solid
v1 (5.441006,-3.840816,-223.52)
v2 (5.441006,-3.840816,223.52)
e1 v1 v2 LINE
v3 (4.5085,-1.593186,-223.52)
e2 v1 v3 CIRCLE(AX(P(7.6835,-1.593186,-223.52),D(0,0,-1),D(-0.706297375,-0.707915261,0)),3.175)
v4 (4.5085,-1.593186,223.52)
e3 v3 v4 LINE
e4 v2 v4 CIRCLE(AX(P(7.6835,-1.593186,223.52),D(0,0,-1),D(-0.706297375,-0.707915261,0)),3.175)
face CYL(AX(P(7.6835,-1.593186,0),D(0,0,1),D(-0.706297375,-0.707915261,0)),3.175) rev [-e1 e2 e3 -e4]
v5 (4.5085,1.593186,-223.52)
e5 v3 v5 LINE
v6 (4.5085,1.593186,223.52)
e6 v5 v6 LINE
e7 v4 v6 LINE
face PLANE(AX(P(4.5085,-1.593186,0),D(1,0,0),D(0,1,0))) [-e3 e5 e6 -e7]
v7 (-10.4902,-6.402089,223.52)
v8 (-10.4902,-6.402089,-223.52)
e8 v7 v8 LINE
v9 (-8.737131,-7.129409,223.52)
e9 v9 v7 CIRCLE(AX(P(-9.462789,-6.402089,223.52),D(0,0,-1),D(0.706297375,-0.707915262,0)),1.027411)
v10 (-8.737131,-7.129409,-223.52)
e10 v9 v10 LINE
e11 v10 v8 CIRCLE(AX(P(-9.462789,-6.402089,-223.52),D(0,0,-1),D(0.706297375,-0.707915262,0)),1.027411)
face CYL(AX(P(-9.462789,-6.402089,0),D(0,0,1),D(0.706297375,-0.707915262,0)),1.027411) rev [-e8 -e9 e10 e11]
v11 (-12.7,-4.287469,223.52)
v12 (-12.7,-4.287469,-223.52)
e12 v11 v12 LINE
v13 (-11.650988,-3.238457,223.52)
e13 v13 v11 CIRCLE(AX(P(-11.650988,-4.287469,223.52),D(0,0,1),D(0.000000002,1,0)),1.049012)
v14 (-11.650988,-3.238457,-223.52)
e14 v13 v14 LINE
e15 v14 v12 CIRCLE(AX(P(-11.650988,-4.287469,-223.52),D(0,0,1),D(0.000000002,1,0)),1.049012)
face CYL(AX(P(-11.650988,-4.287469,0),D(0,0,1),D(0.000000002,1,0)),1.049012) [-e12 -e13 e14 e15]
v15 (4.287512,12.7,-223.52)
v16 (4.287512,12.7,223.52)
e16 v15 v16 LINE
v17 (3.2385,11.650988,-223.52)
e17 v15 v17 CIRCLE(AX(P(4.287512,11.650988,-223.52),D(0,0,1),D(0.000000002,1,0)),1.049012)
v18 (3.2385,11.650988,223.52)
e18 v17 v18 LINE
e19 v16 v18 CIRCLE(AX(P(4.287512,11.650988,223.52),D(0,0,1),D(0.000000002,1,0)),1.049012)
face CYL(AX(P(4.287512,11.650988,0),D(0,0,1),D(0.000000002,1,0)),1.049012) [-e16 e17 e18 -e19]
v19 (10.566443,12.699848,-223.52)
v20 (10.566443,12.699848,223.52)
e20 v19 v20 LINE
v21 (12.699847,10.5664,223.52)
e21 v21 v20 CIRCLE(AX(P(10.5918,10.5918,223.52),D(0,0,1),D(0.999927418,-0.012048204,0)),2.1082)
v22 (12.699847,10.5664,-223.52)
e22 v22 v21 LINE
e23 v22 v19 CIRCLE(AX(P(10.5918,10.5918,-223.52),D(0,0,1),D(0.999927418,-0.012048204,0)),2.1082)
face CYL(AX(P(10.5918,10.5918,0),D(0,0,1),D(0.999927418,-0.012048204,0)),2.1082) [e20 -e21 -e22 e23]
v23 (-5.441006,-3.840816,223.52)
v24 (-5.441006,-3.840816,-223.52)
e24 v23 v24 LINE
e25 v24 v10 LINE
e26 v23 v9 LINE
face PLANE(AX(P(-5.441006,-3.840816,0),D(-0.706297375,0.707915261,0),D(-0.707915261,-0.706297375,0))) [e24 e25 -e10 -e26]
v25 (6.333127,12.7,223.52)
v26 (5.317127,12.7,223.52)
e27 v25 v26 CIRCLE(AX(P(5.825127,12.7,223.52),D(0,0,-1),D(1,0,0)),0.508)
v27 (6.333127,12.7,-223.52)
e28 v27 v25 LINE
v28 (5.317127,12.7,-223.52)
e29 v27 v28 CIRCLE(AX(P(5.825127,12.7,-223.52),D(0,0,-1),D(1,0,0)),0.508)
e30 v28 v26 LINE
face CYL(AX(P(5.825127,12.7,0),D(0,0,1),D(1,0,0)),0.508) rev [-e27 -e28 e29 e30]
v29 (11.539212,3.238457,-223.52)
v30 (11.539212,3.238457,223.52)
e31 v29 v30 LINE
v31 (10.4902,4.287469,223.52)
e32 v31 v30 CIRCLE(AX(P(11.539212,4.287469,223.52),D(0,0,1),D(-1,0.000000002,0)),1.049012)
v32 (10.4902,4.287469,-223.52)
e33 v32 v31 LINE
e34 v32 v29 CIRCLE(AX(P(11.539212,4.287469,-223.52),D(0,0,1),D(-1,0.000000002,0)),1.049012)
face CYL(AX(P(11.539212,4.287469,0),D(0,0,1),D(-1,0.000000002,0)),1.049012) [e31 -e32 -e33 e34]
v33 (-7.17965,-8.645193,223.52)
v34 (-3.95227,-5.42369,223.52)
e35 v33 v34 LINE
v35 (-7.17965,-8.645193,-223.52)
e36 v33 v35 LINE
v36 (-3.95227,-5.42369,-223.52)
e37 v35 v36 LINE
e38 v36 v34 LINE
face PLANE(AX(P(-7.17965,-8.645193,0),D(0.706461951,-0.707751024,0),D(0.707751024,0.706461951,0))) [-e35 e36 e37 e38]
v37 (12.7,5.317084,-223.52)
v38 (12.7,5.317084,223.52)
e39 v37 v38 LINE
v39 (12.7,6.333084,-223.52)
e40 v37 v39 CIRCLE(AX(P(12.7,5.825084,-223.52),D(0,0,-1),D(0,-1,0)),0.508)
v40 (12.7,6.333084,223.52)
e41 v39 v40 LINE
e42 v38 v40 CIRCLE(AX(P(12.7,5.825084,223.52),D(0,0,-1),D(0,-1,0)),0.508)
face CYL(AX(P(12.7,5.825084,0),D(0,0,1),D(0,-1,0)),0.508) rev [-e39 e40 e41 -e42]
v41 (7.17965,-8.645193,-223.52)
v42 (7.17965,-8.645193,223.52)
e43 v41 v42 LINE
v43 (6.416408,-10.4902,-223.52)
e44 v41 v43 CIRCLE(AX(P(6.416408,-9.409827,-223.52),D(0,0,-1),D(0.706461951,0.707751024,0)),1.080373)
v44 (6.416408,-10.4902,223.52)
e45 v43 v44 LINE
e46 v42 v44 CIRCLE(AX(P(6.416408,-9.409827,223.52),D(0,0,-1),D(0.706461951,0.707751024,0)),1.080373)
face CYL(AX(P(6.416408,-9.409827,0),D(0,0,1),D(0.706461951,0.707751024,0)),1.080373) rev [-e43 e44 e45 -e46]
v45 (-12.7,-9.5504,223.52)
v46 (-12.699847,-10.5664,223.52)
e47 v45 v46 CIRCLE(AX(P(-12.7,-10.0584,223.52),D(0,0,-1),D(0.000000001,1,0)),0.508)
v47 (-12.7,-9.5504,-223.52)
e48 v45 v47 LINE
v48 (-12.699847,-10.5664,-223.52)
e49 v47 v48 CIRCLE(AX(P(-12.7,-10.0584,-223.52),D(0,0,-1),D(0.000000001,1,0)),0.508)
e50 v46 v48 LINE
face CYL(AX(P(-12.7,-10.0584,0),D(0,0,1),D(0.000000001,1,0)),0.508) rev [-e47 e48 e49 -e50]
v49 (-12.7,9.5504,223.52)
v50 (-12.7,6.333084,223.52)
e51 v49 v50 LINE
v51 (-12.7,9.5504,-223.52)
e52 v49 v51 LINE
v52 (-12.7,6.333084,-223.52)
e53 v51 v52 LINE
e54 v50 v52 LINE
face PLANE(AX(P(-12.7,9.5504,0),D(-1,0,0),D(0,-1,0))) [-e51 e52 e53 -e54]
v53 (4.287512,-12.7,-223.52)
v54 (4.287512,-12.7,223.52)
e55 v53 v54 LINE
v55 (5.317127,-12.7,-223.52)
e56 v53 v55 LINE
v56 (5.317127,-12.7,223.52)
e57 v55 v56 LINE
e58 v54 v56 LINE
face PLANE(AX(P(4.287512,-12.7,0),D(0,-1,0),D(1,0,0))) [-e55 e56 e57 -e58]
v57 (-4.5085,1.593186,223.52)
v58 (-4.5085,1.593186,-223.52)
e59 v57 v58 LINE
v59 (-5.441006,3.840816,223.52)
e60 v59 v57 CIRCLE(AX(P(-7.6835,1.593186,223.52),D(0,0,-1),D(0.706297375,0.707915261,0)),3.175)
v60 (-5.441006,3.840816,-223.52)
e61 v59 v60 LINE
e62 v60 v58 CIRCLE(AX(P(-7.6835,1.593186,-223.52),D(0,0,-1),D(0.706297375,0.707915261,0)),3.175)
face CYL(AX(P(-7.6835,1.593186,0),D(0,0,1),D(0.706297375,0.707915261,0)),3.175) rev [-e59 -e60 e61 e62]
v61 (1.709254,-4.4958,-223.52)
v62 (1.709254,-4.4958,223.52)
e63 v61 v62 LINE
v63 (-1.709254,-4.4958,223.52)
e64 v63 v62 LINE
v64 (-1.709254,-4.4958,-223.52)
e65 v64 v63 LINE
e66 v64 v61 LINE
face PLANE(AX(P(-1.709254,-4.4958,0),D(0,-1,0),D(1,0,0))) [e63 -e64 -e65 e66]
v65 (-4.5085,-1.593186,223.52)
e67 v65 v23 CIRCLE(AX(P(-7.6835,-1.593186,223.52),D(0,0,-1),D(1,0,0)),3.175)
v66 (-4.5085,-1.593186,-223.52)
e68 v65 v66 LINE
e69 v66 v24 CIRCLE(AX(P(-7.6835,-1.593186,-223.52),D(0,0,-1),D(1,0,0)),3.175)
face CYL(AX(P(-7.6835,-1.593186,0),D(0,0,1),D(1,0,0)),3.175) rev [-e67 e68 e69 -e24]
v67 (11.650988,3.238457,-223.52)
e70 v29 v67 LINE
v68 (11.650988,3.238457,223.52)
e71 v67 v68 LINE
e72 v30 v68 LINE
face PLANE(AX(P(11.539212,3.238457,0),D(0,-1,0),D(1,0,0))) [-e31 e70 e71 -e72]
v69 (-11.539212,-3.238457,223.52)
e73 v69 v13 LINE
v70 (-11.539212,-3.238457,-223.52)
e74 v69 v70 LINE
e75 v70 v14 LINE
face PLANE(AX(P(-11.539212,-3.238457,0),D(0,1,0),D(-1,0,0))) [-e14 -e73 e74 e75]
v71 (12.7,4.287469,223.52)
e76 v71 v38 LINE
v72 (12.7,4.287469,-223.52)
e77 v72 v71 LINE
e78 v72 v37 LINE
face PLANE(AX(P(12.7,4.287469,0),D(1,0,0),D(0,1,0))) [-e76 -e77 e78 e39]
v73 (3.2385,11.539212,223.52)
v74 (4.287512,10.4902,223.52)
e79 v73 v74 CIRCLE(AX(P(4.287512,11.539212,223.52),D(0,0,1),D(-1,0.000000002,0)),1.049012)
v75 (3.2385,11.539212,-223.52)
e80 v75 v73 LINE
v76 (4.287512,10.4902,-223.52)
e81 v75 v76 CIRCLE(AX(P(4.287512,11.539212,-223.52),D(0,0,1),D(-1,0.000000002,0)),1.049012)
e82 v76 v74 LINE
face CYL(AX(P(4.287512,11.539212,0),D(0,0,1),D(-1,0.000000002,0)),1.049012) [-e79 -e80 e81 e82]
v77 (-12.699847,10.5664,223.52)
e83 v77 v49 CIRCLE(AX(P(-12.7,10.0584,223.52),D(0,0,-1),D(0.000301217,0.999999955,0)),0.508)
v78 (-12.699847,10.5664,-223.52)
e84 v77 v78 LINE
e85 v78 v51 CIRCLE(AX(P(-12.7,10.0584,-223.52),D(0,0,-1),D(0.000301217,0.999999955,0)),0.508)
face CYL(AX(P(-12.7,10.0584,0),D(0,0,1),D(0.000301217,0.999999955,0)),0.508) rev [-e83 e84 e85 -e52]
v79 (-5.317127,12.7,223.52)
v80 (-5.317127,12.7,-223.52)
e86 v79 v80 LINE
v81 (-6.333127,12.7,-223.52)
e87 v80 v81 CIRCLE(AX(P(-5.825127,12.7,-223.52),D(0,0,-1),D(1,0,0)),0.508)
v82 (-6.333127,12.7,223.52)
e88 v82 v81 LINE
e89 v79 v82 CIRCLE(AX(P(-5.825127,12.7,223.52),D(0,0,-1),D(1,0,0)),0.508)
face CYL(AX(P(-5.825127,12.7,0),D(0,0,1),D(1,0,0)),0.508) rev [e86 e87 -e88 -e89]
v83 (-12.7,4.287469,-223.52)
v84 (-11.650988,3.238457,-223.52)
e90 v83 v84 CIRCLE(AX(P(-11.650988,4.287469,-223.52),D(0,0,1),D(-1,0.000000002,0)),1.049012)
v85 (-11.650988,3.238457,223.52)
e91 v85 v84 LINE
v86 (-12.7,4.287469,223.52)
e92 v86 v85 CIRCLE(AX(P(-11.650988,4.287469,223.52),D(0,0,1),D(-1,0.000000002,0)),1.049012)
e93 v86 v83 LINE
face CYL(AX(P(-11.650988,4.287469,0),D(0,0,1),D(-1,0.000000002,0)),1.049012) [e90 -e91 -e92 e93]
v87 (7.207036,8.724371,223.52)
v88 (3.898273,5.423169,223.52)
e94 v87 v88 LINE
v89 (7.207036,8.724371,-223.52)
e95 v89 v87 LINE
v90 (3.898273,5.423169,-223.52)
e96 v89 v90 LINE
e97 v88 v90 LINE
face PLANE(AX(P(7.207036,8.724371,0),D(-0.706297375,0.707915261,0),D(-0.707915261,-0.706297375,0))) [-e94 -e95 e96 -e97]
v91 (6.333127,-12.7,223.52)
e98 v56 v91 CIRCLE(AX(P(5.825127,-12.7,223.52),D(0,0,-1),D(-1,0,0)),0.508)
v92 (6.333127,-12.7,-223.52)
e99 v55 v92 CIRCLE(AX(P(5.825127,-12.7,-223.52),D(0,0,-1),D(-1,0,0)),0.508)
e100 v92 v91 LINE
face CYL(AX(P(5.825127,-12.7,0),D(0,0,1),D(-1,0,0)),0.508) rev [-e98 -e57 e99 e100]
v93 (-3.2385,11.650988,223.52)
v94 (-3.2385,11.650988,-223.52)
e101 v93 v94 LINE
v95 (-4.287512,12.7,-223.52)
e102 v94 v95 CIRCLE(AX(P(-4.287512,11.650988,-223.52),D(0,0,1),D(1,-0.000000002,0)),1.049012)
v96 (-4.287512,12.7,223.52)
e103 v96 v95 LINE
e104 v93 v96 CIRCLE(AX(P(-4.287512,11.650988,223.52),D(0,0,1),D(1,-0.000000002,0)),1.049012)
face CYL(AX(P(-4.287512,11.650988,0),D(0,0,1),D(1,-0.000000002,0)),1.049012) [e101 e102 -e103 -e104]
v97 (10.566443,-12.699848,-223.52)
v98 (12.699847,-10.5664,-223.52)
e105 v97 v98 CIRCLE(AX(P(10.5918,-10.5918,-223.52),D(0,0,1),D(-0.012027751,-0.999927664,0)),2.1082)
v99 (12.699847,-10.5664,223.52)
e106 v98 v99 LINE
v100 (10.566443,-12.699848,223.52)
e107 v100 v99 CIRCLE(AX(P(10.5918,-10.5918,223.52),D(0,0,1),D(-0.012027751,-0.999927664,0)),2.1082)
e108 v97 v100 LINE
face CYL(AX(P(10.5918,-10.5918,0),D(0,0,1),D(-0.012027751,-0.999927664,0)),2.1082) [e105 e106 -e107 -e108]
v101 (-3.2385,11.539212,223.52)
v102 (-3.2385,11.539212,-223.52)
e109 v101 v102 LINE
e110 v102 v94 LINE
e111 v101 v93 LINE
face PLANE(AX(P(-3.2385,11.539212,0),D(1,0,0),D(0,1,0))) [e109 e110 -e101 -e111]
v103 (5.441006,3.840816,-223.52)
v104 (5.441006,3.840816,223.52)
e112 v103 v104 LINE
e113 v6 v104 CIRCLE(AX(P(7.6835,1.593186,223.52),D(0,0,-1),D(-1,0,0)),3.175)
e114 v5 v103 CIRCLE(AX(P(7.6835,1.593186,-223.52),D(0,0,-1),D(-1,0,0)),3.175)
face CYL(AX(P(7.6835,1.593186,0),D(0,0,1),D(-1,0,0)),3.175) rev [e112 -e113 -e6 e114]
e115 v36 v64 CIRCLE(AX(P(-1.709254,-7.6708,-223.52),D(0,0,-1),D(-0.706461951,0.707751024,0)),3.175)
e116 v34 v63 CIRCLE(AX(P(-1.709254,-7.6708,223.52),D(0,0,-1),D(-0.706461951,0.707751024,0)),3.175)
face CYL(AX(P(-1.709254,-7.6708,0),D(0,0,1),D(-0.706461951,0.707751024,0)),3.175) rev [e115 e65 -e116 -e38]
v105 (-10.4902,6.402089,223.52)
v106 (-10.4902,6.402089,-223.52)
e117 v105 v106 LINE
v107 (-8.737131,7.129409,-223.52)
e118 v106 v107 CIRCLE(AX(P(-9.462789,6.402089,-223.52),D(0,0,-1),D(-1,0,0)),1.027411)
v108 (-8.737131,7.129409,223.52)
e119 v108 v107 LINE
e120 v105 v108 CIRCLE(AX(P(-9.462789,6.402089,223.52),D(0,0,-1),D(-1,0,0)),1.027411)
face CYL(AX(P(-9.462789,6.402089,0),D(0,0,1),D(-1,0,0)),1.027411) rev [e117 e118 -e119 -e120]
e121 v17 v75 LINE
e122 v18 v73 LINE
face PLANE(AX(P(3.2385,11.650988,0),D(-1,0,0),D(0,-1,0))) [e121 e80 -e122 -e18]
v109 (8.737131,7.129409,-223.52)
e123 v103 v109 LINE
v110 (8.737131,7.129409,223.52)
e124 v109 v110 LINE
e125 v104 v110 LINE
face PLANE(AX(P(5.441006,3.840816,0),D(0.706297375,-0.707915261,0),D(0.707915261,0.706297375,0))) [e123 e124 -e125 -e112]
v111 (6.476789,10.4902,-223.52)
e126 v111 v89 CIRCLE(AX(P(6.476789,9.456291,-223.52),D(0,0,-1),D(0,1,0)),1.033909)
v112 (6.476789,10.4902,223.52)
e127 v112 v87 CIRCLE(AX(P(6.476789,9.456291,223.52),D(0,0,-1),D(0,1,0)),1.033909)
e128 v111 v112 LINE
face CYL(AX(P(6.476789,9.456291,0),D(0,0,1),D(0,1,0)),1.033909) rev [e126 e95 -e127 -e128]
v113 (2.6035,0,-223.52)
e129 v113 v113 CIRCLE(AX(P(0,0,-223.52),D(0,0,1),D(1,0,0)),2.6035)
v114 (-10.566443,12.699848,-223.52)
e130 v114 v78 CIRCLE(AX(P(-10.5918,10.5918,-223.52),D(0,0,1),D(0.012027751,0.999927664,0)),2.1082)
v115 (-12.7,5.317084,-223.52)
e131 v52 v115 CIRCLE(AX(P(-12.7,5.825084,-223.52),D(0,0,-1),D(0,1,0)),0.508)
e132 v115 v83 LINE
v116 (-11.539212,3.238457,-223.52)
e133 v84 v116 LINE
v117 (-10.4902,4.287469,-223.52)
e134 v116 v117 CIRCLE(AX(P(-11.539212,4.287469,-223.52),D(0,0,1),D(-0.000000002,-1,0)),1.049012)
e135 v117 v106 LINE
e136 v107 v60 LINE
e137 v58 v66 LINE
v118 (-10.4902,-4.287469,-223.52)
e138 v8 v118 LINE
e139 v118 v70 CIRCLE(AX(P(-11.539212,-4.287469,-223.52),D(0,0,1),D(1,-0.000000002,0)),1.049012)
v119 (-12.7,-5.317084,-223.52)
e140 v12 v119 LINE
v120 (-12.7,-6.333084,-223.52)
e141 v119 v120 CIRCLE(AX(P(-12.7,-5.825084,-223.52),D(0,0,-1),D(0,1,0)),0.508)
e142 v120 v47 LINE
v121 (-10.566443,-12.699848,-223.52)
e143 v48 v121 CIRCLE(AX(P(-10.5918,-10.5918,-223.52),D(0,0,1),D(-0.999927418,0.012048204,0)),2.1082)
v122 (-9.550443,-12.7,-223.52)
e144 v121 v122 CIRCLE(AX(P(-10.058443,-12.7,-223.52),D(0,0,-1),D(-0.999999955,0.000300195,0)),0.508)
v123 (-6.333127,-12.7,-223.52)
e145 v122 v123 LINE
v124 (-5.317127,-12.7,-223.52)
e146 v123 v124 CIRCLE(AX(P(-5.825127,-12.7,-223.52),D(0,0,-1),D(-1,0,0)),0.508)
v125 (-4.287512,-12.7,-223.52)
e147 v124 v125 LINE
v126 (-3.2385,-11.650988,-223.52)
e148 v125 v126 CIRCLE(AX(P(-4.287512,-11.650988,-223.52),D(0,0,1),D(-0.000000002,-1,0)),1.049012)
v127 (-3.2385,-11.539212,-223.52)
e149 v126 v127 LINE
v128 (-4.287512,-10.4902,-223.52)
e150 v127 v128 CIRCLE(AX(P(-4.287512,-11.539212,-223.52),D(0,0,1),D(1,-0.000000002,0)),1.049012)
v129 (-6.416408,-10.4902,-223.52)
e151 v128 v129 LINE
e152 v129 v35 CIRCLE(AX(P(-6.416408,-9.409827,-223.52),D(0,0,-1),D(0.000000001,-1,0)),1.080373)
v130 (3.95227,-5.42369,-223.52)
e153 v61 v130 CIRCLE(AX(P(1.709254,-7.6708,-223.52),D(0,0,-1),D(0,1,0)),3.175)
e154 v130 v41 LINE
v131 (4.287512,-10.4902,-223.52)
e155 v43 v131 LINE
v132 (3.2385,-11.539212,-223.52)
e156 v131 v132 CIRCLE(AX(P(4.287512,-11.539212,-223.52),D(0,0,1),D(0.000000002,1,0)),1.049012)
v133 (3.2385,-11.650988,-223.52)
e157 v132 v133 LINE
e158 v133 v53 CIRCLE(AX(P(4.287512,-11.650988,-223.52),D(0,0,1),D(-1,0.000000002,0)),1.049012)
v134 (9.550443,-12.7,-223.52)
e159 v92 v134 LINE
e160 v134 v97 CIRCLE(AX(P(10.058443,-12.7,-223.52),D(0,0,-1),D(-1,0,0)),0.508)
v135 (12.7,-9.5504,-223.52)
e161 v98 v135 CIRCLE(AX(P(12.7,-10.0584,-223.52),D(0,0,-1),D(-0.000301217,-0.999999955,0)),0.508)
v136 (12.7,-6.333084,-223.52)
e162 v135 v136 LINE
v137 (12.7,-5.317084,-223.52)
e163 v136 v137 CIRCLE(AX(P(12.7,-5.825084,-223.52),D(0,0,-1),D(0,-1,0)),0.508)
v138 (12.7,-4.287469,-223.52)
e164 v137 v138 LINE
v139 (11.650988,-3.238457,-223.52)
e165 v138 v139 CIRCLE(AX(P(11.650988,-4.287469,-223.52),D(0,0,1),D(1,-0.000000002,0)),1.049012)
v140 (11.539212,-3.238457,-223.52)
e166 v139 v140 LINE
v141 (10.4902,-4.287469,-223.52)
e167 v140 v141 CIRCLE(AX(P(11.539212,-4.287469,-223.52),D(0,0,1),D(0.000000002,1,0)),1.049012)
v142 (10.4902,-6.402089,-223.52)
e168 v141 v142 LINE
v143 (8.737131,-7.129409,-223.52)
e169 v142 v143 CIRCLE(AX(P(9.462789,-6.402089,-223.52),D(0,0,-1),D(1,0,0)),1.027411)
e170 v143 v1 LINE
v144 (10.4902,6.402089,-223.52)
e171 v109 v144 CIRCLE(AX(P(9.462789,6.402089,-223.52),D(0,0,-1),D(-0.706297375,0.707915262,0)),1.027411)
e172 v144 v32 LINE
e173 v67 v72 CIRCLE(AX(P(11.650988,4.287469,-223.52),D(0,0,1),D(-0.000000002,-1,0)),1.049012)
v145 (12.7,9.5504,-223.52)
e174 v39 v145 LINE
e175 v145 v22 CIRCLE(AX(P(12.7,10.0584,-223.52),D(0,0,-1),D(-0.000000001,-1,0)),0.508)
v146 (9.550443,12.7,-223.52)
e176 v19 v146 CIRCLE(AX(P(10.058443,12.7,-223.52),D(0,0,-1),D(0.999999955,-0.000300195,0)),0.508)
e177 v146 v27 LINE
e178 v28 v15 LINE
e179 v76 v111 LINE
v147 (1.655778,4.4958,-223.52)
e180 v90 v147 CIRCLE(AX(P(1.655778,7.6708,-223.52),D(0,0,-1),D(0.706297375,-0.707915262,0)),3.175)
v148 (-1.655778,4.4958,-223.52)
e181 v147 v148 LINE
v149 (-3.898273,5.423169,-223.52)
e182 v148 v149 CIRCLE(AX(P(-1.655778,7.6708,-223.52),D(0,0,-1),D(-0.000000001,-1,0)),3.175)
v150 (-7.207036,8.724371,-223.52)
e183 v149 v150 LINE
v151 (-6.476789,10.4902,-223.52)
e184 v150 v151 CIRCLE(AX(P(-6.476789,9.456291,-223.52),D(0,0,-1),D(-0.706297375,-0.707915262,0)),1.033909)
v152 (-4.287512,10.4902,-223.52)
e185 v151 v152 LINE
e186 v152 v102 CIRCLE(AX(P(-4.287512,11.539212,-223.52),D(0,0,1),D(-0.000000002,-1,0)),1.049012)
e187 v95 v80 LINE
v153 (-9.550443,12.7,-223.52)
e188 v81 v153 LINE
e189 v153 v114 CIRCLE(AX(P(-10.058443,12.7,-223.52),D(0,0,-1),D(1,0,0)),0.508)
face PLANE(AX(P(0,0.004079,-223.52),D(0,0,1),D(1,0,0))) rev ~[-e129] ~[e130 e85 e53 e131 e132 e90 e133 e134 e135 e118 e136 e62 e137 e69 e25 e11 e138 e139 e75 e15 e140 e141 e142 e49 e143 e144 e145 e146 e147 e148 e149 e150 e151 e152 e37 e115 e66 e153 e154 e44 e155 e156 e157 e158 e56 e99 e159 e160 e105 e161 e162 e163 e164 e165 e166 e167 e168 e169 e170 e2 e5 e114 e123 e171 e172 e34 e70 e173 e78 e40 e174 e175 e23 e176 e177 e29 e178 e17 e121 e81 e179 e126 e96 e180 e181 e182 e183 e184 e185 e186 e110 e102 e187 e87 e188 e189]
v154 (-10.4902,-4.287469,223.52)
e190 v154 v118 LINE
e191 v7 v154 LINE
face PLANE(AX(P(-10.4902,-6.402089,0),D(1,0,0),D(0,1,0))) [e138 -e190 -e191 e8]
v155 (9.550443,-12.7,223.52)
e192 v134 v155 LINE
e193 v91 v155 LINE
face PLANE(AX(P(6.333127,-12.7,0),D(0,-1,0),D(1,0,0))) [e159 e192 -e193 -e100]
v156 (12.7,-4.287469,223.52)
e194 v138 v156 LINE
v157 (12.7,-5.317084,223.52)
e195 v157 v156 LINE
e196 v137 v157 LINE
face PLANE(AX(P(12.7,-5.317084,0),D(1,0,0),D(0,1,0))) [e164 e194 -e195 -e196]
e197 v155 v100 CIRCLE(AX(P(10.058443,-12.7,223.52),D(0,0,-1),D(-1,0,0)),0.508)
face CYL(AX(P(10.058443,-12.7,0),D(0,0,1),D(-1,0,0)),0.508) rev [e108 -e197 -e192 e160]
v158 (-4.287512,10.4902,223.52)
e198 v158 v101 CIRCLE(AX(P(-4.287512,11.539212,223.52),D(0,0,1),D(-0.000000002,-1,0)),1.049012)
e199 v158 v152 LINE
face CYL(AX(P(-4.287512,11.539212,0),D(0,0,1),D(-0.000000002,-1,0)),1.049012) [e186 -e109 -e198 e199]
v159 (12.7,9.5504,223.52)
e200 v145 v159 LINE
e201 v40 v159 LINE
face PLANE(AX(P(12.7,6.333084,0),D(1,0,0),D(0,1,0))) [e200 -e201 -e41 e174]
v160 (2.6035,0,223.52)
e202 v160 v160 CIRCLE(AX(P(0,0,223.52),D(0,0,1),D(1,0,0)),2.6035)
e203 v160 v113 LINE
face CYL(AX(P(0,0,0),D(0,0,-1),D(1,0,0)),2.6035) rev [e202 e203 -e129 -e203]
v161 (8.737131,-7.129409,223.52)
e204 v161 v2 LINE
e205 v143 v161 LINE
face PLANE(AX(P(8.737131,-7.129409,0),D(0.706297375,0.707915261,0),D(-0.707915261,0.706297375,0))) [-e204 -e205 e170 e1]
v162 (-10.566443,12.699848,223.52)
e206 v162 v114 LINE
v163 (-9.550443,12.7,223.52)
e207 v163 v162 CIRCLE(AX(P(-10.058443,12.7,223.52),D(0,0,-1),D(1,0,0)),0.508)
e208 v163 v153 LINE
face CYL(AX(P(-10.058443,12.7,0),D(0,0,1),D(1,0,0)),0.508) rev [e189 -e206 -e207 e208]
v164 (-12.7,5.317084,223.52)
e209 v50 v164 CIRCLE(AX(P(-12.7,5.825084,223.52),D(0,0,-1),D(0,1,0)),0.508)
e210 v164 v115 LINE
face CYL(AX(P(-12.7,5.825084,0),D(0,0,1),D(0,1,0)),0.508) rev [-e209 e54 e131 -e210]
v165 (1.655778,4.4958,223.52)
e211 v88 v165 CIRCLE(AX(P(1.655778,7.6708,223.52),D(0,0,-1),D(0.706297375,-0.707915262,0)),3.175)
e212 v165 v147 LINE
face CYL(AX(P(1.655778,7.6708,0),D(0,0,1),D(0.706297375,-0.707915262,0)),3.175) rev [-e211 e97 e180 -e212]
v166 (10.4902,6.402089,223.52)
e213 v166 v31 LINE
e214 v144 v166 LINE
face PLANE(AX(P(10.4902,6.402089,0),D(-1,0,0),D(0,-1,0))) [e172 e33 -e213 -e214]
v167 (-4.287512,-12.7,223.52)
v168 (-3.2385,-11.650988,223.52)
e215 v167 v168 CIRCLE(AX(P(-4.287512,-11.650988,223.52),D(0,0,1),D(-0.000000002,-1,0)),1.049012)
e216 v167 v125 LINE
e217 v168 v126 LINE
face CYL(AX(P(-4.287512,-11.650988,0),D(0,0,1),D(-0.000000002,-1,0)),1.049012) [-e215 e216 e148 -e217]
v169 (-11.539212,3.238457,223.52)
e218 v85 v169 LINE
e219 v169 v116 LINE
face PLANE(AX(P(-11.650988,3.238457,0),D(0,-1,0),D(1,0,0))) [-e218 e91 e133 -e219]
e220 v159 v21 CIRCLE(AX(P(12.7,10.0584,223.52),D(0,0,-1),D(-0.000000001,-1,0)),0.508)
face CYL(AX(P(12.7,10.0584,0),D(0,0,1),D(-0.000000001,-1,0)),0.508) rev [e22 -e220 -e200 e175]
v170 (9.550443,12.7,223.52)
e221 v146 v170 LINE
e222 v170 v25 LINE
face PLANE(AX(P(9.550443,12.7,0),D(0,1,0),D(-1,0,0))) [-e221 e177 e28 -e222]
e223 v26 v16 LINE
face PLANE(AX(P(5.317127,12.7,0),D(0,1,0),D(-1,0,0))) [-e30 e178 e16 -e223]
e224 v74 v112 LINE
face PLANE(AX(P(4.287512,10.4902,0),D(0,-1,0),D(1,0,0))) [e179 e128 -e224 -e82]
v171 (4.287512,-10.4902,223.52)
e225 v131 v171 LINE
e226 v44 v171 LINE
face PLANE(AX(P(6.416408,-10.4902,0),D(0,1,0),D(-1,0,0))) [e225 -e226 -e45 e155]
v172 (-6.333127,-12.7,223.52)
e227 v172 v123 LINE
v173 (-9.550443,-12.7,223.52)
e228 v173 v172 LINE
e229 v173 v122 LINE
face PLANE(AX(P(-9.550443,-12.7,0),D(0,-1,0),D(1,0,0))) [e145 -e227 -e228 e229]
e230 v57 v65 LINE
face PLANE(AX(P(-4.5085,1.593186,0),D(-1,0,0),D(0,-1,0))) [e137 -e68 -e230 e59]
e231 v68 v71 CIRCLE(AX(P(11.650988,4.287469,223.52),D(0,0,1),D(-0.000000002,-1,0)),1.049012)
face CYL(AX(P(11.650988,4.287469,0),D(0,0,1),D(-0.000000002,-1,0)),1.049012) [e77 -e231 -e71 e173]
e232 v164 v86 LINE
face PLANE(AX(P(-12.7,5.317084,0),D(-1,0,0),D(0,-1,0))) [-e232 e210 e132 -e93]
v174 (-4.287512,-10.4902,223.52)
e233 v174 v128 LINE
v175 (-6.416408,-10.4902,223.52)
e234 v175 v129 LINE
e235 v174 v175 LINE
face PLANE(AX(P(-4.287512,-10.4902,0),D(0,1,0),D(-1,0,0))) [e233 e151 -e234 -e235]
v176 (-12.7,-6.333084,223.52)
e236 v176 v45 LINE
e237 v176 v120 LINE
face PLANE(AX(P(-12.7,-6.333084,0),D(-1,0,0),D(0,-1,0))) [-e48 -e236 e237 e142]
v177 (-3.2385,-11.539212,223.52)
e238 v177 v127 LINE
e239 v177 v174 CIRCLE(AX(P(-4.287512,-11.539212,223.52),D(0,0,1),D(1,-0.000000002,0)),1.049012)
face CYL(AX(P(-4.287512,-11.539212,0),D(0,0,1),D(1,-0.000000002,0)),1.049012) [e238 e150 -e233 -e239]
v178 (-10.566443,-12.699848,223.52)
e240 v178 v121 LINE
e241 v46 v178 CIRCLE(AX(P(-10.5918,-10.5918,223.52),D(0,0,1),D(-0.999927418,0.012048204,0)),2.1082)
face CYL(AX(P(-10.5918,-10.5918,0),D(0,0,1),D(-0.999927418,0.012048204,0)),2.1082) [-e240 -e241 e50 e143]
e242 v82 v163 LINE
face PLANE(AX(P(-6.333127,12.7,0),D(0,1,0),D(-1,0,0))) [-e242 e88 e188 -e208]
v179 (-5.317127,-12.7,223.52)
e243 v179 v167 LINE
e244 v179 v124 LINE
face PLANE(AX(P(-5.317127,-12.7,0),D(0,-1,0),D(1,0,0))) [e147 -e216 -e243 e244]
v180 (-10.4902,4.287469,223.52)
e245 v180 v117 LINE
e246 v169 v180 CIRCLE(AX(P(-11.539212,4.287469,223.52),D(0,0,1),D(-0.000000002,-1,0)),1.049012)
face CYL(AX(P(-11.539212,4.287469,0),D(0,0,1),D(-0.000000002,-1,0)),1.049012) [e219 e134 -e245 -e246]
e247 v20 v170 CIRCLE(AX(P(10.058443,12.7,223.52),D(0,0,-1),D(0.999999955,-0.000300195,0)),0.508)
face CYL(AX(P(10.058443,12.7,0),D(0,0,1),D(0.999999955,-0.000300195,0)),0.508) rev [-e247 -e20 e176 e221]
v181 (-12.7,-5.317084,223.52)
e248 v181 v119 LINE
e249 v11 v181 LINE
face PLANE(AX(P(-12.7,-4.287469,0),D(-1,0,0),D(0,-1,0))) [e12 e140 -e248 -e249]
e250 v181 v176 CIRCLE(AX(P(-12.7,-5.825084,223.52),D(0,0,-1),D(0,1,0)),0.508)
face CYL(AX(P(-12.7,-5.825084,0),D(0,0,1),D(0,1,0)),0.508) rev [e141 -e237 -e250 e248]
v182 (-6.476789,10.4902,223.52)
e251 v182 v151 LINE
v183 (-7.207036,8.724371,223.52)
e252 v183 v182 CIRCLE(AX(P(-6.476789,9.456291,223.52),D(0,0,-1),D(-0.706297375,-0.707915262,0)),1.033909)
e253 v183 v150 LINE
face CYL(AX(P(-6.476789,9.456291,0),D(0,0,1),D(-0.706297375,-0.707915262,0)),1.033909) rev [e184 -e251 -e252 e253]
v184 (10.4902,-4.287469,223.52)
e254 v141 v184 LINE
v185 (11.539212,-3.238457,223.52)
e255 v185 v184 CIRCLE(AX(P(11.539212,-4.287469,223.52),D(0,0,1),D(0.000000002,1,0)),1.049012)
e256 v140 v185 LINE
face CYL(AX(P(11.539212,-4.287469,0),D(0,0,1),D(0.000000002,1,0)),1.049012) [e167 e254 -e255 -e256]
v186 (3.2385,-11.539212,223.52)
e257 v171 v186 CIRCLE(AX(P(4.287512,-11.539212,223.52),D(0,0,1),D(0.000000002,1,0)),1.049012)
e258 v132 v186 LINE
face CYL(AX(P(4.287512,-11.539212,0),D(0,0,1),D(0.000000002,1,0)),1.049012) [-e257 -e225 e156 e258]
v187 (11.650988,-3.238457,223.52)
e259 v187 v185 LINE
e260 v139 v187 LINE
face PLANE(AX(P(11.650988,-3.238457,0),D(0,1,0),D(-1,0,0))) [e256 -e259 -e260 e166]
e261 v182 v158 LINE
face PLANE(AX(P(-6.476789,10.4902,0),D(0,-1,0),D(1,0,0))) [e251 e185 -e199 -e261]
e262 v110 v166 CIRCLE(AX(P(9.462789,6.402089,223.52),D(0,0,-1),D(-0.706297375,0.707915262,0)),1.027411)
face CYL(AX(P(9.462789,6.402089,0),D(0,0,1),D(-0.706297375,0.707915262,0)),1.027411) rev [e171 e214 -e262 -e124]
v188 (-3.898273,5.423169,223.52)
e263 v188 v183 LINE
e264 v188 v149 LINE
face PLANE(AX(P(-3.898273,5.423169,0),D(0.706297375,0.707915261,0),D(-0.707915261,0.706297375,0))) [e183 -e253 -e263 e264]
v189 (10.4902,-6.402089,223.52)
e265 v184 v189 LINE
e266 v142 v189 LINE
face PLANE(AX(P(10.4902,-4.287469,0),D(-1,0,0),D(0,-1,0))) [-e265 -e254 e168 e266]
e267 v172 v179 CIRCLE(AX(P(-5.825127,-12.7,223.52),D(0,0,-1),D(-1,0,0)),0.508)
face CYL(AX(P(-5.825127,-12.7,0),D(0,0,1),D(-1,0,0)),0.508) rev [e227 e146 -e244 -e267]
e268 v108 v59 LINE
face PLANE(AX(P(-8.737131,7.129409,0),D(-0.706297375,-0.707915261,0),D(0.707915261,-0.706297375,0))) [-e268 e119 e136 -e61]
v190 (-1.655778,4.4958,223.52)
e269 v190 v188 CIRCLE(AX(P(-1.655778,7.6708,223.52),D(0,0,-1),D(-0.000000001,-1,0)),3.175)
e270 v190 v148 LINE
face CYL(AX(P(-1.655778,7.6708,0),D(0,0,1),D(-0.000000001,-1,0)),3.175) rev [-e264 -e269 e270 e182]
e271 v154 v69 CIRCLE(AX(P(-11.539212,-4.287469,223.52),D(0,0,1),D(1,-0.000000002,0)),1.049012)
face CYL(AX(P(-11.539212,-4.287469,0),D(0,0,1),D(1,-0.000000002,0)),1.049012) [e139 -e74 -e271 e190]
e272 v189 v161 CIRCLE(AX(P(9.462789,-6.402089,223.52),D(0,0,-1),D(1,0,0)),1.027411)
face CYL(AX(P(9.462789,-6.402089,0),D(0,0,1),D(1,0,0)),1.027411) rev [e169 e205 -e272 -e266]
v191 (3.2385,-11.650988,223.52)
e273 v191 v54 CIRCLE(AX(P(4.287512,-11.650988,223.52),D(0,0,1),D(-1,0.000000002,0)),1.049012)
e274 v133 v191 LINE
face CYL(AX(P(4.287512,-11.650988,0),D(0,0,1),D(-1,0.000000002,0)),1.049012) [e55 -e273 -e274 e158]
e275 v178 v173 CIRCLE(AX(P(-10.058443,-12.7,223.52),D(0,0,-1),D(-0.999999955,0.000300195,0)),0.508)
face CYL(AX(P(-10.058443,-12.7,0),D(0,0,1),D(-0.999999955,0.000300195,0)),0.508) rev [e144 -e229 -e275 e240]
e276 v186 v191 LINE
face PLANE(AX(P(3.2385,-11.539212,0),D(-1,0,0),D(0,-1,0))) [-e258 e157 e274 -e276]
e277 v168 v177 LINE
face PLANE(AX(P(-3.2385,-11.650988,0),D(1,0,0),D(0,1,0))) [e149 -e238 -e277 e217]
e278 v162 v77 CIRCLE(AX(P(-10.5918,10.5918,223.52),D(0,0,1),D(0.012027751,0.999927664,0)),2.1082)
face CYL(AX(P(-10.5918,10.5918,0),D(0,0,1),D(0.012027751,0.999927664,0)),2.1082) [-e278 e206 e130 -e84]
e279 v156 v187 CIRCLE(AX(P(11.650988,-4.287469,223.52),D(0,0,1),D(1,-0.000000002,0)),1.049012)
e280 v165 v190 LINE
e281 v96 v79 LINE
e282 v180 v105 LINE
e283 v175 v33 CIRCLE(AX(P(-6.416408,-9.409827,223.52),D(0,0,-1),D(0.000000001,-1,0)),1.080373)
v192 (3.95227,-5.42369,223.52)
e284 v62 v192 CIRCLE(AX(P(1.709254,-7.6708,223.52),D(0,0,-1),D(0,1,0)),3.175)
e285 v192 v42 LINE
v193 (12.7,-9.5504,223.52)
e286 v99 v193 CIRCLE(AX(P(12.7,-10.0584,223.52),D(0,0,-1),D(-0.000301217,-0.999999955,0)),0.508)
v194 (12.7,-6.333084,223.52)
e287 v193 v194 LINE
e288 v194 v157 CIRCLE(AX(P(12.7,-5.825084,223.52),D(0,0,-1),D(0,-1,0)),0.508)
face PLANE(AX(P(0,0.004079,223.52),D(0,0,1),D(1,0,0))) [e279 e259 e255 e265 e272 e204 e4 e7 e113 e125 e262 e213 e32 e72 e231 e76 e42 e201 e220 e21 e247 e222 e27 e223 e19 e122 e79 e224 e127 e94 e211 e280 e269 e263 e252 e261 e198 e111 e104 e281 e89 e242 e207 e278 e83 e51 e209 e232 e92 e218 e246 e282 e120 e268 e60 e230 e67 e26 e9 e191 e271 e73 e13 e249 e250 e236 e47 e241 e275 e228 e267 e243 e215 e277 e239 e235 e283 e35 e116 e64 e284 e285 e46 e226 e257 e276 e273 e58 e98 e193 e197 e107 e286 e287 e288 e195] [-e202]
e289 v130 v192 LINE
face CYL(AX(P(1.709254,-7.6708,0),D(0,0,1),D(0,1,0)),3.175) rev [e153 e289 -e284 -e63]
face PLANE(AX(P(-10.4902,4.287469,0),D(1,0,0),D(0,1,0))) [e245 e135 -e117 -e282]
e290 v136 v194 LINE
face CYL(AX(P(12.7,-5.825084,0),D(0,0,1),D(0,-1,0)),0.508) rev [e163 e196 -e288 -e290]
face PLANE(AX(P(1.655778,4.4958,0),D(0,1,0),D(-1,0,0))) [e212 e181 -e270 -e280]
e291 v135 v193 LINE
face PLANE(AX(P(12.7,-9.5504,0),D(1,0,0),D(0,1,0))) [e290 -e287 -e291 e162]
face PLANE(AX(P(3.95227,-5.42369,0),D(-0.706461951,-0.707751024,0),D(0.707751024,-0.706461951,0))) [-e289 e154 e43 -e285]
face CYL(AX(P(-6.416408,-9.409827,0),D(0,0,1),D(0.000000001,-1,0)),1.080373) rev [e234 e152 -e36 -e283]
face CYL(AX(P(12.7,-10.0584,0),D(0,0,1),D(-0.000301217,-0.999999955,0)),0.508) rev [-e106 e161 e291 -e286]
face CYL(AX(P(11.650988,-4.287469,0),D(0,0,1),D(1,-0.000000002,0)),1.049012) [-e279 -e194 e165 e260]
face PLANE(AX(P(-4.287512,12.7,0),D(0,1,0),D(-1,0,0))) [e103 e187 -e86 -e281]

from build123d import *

# Parameters (mm, degrees)
SKETCH1_R           = 2.6035
BOSS_EXTRUDE1_DEPTH = 223.52


with BuildPart() as part:
    # Sketch1 → Boss-Extrude1 (new, symmetric)
    with BuildSketch(Plane.XY):
        with BuildLine():
            Line((-7.179650497, -8.645192506), (-3.952270251, -5.423690499))
            ThreePointArc((-3.952270251, -5.423690499), (-2.922936451, -4.736929036), (-1.709253557, -4.4958))
            Line((-1.709253557, -4.4958), (1.709253557, -4.4958))
            ThreePointArc((1.709253557, -4.4958), (2.922936451, -4.736929036), (3.952270251, -5.423690499))
            Line((3.952270251, -5.423690499), (7.179650497, -8.645192506))
            ThreePointArc((7.179650497, -8.645192506), (7.41473083, -9.822813117), (6.416408329, -10.4902))
            Line((6.416408329, -10.4902), (4.287512407, -10.4902))
            ThreePointArc((4.287512407, -10.4902), (3.54574862, -10.79744862), (3.2385, -11.539212407))
            Line((3.2385, -11.539212407), (3.2385, -11.650987593))
            ThreePointArc((3.2385, -11.650987593), (3.54574862, -12.39275138), (4.287512407, -12.7))
            Line((4.287512407, -12.7), (5.317126718, -12.7))
            ThreePointArc((5.317126718, -12.7), (5.825126718, -12.192), (6.333126718, -12.7))
            Line((6.333126718, -12.7), (9.550443118, -12.7))
            ThreePointArc((9.550443118, -12.7), (10.058366869, -12.192000006), (10.566443095, -12.699847501))
            ThreePointArc((10.566443095, -12.699847501), (12.082537762, -12.08250727), (12.699846982, -10.566399977))
            ThreePointArc((12.699846982, -10.566399977), (12.192000006, -10.058323491), (12.7, -9.5504))
            Line((12.7, -9.5504), (12.7, -6.3330836))
            ThreePointArc((12.7, -6.3330836), (12.192, -5.8250836), (12.7, -5.3170836))
            Line((12.7, -5.3170836), (12.7, -4.287469289))
            ThreePointArc((12.7, -4.287469289), (12.39275138, -3.545705502), (11.650987593, -3.238456882))
            Line((11.650987593, -3.238456882), (11.539212407, -3.238456882))
            ThreePointArc((11.539212407, -3.238456882), (10.79744862, -3.545705502), (10.4902, -4.287469289))
            Line((10.4902, -4.287469289), (10.4902, -6.402089023))
            ThreePointArc((10.4902, -6.402089023), (9.856505071, -7.351067942), (8.737131347, -7.129408934))
            Line((8.737131347, -7.129408934), (5.441005833, -3.840816462))
            ThreePointArc((5.441005833, -3.840816462), (4.750877967, -2.809883091), (4.5085, -1.593185507))
            Line((4.5085, -1.593185507), (4.5085, 1.593185507))
            ThreePointArc((4.5085, 1.593185507), (4.750877967, 2.809883091), (5.441005833, 3.840816462))
            Line((5.441005833, 3.840816462), (8.737131347, 7.129408934))
            ThreePointArc((8.737131347, 7.129408934), (9.856505071, 7.351067942), (10.4902, 6.402089023))
            Line((10.4902, 6.402089023), (10.4902, 4.287469289))
            ThreePointArc((10.4902, 4.287469289), (10.79744862, 3.545705502), (11.539212407, 3.238456882))
            Line((11.539212407, 3.238456882), (11.650987593, 3.238456882))
            ThreePointArc((11.650987593, 3.238456882), (12.39275138, 3.545705502), (12.7, 4.287469289))
            Line((12.7, 4.287469289), (12.7, 5.3170836))
            ThreePointArc((12.7, 5.3170836), (12.192, 5.8250836), (12.7, 6.3330836))
            Line((12.7, 6.3330836), (12.7, 9.5504))
            ThreePointArc((12.7, 9.5504), (12.192000006, 10.058323491), (12.699846982, 10.566399977))
            ThreePointArc((12.699846982, 10.566399977), (12.082537762, 12.08250727), (10.566443095, 12.699847501))
            ThreePointArc((10.566443095, 12.699847501), (10.058366869, 12.192000006), (9.550443118, 12.7))
            Line((9.550443118, 12.7), (6.333126718, 12.7))
            ThreePointArc((6.333126718, 12.7), (5.825126718, 12.192), (5.317126718, 12.7))
            Line((5.317126718, 12.7), (4.287512407, 12.7))
            ThreePointArc((4.287512407, 12.7), (3.54574862, 12.39275138), (3.2385, 11.650987593))
            Line((3.2385, 11.650987593), (3.2385, 11.539212407))
            ThreePointArc((3.2385, 11.539212407), (3.54574862, 10.79744862), (4.287512407, 10.4902))
            Line((4.287512407, 10.4902), (6.476788598, 10.4902))
            ThreePointArc((6.476788598, 10.4902), (7.432222385, 9.85140422), (7.207036008, 8.724370562))
            Line((7.207036008, 8.724370562), (3.898272566, 5.423169045))
            ThreePointArc((3.898272566, 5.423169045), (2.869120213, 4.736787962), (1.655778399, 4.4958))
            Line((1.655778399, 4.4958), (-1.655778399, 4.4958))
            ThreePointArc((-1.655778399, 4.4958), (-2.869120213, 4.736787962), (-3.898272566, 5.423169045))
            Line((-3.898272566, 5.423169045), (-7.207036008, 8.724370562))
            ThreePointArc((-7.207036008, 8.724370562), (-7.432222385, 9.85140422), (-6.476788598, 10.4902))
            Line((-6.476788598, 10.4902), (-4.287512407, 10.4902))
            ThreePointArc((-4.287512407, 10.4902), (-3.54574862, 10.79744862), (-3.2385, 11.539212407))
            Line((-3.2385, 11.539212407), (-3.2385, 11.650987593))
            ThreePointArc((-3.2385, 11.650987593), (-3.54574862, 12.39275138), (-4.287512407, 12.7))
            Line((-4.287512407, 12.7), (-5.317126718, 12.7))
            ThreePointArc((-5.317126718, 12.7), (-5.825126718, 12.192), (-6.333126718, 12.7))
            Line((-6.333126718, 12.7), (-9.550443118, 12.7))
            ThreePointArc((-9.550443118, 12.7), (-10.058366869, 12.192000006), (-10.566443095, 12.699847501))
            ThreePointArc((-10.566443095, 12.699847501), (-12.082537762, 12.08250727), (-12.699846982, 10.566399977))
            ThreePointArc((-12.699846982, 10.566399977), (-12.192000006, 10.058323491), (-12.7, 9.5504))
            Line((-12.7, 9.5504), (-12.7, 6.3330836))
            ThreePointArc((-12.7, 6.3330836), (-12.192, 5.8250836), (-12.7, 5.3170836))
            Line((-12.7, 5.3170836), (-12.7, 4.287469289))
            ThreePointArc((-12.7, 4.287469289), (-12.39275138, 3.545705502), (-11.650987593, 3.238456882))
            Line((-11.650987593, 3.238456882), (-11.539212407, 3.238456882))
            ThreePointArc((-11.539212407, 3.238456882), (-10.79744862, 3.545705502), (-10.4902, 4.287469289))
            Line((-10.4902, 4.287469289), (-10.4902, 6.402089023))
            ThreePointArc((-10.4902, 6.402089023), (-9.856505071, 7.351067942), (-8.737131347, 7.129408934))
            Line((-8.737131347, 7.129408934), (-5.441005833, 3.840816462))
            ThreePointArc((-5.441005833, 3.840816462), (-4.750877967, 2.809883091), (-4.5085, 1.593185507))
            Line((-4.5085, 1.593185507), (-4.5085, -1.593185507))
            ThreePointArc((-4.5085, -1.593185507), (-4.750877967, -2.809883091), (-5.441005833, -3.840816462))
            Line((-5.441005833, -3.840816462), (-8.737131347, -7.129408934))
            ThreePointArc((-8.737131347, -7.129408934), (-9.856505071, -7.351067942), (-10.4902, -6.402089023))
            Line((-10.4902, -6.402089023), (-10.4902, -4.287469289))
            ThreePointArc((-10.4902, -4.287469289), (-10.79744862, -3.545705502), (-11.539212407, -3.238456882))
            Line((-11.539212407, -3.238456882), (-11.650987593, -3.238456882))
            ThreePointArc((-11.650987593, -3.238456882), (-12.39275138, -3.545705502), (-12.7, -4.287469289))
            Line((-12.7, -4.287469289), (-12.7, -5.3170836))
            ThreePointArc((-12.7, -5.3170836), (-12.192, -5.8250836), (-12.7, -6.3330836))
            Line((-12.7, -6.3330836), (-12.7, -9.5504))
            ThreePointArc((-12.7, -9.5504), (-12.192000006, -10.058323491), (-12.699846982, -10.566399977))
            ThreePointArc((-12.699846982, -10.566399977), (-12.082537762, -12.08250727), (-10.566443095, -12.699847501))
            ThreePointArc((-10.566443095, -12.699847501), (-10.058366869, -12.192000006), (-9.550443118, -12.7))
            Line((-9.550443118, -12.7), (-6.333126718, -12.7))
            ThreePointArc((-6.333126718, -12.7), (-5.825126718, -12.192), (-5.317126718, -12.7))
            Line((-5.317126718, -12.7), (-4.287512407, -12.7))
            ThreePointArc((-4.287512407, -12.7), (-3.54574862, -12.39275138), (-3.2385, -11.650987593))
            Line((-3.2385, -11.650987593), (-3.2385, -11.539212407))
            ThreePointArc((-3.2385, -11.539212407), (-3.54574862, -10.79744862), (-4.287512407, -10.4902))
            Line((-4.287512407, -10.4902), (-6.416408329, -10.4902))
            ThreePointArc((-6.416408329, -10.4902), (-7.41473083, -9.822813117), (-7.179650497, -8.645192506))
        make_face()
        Circle(SKETCH1_R, mode=Mode.SUBTRACT)
    extrude(amount=BOSS_EXTRUDE1_DEPTH, both=True)


solid = part.part
